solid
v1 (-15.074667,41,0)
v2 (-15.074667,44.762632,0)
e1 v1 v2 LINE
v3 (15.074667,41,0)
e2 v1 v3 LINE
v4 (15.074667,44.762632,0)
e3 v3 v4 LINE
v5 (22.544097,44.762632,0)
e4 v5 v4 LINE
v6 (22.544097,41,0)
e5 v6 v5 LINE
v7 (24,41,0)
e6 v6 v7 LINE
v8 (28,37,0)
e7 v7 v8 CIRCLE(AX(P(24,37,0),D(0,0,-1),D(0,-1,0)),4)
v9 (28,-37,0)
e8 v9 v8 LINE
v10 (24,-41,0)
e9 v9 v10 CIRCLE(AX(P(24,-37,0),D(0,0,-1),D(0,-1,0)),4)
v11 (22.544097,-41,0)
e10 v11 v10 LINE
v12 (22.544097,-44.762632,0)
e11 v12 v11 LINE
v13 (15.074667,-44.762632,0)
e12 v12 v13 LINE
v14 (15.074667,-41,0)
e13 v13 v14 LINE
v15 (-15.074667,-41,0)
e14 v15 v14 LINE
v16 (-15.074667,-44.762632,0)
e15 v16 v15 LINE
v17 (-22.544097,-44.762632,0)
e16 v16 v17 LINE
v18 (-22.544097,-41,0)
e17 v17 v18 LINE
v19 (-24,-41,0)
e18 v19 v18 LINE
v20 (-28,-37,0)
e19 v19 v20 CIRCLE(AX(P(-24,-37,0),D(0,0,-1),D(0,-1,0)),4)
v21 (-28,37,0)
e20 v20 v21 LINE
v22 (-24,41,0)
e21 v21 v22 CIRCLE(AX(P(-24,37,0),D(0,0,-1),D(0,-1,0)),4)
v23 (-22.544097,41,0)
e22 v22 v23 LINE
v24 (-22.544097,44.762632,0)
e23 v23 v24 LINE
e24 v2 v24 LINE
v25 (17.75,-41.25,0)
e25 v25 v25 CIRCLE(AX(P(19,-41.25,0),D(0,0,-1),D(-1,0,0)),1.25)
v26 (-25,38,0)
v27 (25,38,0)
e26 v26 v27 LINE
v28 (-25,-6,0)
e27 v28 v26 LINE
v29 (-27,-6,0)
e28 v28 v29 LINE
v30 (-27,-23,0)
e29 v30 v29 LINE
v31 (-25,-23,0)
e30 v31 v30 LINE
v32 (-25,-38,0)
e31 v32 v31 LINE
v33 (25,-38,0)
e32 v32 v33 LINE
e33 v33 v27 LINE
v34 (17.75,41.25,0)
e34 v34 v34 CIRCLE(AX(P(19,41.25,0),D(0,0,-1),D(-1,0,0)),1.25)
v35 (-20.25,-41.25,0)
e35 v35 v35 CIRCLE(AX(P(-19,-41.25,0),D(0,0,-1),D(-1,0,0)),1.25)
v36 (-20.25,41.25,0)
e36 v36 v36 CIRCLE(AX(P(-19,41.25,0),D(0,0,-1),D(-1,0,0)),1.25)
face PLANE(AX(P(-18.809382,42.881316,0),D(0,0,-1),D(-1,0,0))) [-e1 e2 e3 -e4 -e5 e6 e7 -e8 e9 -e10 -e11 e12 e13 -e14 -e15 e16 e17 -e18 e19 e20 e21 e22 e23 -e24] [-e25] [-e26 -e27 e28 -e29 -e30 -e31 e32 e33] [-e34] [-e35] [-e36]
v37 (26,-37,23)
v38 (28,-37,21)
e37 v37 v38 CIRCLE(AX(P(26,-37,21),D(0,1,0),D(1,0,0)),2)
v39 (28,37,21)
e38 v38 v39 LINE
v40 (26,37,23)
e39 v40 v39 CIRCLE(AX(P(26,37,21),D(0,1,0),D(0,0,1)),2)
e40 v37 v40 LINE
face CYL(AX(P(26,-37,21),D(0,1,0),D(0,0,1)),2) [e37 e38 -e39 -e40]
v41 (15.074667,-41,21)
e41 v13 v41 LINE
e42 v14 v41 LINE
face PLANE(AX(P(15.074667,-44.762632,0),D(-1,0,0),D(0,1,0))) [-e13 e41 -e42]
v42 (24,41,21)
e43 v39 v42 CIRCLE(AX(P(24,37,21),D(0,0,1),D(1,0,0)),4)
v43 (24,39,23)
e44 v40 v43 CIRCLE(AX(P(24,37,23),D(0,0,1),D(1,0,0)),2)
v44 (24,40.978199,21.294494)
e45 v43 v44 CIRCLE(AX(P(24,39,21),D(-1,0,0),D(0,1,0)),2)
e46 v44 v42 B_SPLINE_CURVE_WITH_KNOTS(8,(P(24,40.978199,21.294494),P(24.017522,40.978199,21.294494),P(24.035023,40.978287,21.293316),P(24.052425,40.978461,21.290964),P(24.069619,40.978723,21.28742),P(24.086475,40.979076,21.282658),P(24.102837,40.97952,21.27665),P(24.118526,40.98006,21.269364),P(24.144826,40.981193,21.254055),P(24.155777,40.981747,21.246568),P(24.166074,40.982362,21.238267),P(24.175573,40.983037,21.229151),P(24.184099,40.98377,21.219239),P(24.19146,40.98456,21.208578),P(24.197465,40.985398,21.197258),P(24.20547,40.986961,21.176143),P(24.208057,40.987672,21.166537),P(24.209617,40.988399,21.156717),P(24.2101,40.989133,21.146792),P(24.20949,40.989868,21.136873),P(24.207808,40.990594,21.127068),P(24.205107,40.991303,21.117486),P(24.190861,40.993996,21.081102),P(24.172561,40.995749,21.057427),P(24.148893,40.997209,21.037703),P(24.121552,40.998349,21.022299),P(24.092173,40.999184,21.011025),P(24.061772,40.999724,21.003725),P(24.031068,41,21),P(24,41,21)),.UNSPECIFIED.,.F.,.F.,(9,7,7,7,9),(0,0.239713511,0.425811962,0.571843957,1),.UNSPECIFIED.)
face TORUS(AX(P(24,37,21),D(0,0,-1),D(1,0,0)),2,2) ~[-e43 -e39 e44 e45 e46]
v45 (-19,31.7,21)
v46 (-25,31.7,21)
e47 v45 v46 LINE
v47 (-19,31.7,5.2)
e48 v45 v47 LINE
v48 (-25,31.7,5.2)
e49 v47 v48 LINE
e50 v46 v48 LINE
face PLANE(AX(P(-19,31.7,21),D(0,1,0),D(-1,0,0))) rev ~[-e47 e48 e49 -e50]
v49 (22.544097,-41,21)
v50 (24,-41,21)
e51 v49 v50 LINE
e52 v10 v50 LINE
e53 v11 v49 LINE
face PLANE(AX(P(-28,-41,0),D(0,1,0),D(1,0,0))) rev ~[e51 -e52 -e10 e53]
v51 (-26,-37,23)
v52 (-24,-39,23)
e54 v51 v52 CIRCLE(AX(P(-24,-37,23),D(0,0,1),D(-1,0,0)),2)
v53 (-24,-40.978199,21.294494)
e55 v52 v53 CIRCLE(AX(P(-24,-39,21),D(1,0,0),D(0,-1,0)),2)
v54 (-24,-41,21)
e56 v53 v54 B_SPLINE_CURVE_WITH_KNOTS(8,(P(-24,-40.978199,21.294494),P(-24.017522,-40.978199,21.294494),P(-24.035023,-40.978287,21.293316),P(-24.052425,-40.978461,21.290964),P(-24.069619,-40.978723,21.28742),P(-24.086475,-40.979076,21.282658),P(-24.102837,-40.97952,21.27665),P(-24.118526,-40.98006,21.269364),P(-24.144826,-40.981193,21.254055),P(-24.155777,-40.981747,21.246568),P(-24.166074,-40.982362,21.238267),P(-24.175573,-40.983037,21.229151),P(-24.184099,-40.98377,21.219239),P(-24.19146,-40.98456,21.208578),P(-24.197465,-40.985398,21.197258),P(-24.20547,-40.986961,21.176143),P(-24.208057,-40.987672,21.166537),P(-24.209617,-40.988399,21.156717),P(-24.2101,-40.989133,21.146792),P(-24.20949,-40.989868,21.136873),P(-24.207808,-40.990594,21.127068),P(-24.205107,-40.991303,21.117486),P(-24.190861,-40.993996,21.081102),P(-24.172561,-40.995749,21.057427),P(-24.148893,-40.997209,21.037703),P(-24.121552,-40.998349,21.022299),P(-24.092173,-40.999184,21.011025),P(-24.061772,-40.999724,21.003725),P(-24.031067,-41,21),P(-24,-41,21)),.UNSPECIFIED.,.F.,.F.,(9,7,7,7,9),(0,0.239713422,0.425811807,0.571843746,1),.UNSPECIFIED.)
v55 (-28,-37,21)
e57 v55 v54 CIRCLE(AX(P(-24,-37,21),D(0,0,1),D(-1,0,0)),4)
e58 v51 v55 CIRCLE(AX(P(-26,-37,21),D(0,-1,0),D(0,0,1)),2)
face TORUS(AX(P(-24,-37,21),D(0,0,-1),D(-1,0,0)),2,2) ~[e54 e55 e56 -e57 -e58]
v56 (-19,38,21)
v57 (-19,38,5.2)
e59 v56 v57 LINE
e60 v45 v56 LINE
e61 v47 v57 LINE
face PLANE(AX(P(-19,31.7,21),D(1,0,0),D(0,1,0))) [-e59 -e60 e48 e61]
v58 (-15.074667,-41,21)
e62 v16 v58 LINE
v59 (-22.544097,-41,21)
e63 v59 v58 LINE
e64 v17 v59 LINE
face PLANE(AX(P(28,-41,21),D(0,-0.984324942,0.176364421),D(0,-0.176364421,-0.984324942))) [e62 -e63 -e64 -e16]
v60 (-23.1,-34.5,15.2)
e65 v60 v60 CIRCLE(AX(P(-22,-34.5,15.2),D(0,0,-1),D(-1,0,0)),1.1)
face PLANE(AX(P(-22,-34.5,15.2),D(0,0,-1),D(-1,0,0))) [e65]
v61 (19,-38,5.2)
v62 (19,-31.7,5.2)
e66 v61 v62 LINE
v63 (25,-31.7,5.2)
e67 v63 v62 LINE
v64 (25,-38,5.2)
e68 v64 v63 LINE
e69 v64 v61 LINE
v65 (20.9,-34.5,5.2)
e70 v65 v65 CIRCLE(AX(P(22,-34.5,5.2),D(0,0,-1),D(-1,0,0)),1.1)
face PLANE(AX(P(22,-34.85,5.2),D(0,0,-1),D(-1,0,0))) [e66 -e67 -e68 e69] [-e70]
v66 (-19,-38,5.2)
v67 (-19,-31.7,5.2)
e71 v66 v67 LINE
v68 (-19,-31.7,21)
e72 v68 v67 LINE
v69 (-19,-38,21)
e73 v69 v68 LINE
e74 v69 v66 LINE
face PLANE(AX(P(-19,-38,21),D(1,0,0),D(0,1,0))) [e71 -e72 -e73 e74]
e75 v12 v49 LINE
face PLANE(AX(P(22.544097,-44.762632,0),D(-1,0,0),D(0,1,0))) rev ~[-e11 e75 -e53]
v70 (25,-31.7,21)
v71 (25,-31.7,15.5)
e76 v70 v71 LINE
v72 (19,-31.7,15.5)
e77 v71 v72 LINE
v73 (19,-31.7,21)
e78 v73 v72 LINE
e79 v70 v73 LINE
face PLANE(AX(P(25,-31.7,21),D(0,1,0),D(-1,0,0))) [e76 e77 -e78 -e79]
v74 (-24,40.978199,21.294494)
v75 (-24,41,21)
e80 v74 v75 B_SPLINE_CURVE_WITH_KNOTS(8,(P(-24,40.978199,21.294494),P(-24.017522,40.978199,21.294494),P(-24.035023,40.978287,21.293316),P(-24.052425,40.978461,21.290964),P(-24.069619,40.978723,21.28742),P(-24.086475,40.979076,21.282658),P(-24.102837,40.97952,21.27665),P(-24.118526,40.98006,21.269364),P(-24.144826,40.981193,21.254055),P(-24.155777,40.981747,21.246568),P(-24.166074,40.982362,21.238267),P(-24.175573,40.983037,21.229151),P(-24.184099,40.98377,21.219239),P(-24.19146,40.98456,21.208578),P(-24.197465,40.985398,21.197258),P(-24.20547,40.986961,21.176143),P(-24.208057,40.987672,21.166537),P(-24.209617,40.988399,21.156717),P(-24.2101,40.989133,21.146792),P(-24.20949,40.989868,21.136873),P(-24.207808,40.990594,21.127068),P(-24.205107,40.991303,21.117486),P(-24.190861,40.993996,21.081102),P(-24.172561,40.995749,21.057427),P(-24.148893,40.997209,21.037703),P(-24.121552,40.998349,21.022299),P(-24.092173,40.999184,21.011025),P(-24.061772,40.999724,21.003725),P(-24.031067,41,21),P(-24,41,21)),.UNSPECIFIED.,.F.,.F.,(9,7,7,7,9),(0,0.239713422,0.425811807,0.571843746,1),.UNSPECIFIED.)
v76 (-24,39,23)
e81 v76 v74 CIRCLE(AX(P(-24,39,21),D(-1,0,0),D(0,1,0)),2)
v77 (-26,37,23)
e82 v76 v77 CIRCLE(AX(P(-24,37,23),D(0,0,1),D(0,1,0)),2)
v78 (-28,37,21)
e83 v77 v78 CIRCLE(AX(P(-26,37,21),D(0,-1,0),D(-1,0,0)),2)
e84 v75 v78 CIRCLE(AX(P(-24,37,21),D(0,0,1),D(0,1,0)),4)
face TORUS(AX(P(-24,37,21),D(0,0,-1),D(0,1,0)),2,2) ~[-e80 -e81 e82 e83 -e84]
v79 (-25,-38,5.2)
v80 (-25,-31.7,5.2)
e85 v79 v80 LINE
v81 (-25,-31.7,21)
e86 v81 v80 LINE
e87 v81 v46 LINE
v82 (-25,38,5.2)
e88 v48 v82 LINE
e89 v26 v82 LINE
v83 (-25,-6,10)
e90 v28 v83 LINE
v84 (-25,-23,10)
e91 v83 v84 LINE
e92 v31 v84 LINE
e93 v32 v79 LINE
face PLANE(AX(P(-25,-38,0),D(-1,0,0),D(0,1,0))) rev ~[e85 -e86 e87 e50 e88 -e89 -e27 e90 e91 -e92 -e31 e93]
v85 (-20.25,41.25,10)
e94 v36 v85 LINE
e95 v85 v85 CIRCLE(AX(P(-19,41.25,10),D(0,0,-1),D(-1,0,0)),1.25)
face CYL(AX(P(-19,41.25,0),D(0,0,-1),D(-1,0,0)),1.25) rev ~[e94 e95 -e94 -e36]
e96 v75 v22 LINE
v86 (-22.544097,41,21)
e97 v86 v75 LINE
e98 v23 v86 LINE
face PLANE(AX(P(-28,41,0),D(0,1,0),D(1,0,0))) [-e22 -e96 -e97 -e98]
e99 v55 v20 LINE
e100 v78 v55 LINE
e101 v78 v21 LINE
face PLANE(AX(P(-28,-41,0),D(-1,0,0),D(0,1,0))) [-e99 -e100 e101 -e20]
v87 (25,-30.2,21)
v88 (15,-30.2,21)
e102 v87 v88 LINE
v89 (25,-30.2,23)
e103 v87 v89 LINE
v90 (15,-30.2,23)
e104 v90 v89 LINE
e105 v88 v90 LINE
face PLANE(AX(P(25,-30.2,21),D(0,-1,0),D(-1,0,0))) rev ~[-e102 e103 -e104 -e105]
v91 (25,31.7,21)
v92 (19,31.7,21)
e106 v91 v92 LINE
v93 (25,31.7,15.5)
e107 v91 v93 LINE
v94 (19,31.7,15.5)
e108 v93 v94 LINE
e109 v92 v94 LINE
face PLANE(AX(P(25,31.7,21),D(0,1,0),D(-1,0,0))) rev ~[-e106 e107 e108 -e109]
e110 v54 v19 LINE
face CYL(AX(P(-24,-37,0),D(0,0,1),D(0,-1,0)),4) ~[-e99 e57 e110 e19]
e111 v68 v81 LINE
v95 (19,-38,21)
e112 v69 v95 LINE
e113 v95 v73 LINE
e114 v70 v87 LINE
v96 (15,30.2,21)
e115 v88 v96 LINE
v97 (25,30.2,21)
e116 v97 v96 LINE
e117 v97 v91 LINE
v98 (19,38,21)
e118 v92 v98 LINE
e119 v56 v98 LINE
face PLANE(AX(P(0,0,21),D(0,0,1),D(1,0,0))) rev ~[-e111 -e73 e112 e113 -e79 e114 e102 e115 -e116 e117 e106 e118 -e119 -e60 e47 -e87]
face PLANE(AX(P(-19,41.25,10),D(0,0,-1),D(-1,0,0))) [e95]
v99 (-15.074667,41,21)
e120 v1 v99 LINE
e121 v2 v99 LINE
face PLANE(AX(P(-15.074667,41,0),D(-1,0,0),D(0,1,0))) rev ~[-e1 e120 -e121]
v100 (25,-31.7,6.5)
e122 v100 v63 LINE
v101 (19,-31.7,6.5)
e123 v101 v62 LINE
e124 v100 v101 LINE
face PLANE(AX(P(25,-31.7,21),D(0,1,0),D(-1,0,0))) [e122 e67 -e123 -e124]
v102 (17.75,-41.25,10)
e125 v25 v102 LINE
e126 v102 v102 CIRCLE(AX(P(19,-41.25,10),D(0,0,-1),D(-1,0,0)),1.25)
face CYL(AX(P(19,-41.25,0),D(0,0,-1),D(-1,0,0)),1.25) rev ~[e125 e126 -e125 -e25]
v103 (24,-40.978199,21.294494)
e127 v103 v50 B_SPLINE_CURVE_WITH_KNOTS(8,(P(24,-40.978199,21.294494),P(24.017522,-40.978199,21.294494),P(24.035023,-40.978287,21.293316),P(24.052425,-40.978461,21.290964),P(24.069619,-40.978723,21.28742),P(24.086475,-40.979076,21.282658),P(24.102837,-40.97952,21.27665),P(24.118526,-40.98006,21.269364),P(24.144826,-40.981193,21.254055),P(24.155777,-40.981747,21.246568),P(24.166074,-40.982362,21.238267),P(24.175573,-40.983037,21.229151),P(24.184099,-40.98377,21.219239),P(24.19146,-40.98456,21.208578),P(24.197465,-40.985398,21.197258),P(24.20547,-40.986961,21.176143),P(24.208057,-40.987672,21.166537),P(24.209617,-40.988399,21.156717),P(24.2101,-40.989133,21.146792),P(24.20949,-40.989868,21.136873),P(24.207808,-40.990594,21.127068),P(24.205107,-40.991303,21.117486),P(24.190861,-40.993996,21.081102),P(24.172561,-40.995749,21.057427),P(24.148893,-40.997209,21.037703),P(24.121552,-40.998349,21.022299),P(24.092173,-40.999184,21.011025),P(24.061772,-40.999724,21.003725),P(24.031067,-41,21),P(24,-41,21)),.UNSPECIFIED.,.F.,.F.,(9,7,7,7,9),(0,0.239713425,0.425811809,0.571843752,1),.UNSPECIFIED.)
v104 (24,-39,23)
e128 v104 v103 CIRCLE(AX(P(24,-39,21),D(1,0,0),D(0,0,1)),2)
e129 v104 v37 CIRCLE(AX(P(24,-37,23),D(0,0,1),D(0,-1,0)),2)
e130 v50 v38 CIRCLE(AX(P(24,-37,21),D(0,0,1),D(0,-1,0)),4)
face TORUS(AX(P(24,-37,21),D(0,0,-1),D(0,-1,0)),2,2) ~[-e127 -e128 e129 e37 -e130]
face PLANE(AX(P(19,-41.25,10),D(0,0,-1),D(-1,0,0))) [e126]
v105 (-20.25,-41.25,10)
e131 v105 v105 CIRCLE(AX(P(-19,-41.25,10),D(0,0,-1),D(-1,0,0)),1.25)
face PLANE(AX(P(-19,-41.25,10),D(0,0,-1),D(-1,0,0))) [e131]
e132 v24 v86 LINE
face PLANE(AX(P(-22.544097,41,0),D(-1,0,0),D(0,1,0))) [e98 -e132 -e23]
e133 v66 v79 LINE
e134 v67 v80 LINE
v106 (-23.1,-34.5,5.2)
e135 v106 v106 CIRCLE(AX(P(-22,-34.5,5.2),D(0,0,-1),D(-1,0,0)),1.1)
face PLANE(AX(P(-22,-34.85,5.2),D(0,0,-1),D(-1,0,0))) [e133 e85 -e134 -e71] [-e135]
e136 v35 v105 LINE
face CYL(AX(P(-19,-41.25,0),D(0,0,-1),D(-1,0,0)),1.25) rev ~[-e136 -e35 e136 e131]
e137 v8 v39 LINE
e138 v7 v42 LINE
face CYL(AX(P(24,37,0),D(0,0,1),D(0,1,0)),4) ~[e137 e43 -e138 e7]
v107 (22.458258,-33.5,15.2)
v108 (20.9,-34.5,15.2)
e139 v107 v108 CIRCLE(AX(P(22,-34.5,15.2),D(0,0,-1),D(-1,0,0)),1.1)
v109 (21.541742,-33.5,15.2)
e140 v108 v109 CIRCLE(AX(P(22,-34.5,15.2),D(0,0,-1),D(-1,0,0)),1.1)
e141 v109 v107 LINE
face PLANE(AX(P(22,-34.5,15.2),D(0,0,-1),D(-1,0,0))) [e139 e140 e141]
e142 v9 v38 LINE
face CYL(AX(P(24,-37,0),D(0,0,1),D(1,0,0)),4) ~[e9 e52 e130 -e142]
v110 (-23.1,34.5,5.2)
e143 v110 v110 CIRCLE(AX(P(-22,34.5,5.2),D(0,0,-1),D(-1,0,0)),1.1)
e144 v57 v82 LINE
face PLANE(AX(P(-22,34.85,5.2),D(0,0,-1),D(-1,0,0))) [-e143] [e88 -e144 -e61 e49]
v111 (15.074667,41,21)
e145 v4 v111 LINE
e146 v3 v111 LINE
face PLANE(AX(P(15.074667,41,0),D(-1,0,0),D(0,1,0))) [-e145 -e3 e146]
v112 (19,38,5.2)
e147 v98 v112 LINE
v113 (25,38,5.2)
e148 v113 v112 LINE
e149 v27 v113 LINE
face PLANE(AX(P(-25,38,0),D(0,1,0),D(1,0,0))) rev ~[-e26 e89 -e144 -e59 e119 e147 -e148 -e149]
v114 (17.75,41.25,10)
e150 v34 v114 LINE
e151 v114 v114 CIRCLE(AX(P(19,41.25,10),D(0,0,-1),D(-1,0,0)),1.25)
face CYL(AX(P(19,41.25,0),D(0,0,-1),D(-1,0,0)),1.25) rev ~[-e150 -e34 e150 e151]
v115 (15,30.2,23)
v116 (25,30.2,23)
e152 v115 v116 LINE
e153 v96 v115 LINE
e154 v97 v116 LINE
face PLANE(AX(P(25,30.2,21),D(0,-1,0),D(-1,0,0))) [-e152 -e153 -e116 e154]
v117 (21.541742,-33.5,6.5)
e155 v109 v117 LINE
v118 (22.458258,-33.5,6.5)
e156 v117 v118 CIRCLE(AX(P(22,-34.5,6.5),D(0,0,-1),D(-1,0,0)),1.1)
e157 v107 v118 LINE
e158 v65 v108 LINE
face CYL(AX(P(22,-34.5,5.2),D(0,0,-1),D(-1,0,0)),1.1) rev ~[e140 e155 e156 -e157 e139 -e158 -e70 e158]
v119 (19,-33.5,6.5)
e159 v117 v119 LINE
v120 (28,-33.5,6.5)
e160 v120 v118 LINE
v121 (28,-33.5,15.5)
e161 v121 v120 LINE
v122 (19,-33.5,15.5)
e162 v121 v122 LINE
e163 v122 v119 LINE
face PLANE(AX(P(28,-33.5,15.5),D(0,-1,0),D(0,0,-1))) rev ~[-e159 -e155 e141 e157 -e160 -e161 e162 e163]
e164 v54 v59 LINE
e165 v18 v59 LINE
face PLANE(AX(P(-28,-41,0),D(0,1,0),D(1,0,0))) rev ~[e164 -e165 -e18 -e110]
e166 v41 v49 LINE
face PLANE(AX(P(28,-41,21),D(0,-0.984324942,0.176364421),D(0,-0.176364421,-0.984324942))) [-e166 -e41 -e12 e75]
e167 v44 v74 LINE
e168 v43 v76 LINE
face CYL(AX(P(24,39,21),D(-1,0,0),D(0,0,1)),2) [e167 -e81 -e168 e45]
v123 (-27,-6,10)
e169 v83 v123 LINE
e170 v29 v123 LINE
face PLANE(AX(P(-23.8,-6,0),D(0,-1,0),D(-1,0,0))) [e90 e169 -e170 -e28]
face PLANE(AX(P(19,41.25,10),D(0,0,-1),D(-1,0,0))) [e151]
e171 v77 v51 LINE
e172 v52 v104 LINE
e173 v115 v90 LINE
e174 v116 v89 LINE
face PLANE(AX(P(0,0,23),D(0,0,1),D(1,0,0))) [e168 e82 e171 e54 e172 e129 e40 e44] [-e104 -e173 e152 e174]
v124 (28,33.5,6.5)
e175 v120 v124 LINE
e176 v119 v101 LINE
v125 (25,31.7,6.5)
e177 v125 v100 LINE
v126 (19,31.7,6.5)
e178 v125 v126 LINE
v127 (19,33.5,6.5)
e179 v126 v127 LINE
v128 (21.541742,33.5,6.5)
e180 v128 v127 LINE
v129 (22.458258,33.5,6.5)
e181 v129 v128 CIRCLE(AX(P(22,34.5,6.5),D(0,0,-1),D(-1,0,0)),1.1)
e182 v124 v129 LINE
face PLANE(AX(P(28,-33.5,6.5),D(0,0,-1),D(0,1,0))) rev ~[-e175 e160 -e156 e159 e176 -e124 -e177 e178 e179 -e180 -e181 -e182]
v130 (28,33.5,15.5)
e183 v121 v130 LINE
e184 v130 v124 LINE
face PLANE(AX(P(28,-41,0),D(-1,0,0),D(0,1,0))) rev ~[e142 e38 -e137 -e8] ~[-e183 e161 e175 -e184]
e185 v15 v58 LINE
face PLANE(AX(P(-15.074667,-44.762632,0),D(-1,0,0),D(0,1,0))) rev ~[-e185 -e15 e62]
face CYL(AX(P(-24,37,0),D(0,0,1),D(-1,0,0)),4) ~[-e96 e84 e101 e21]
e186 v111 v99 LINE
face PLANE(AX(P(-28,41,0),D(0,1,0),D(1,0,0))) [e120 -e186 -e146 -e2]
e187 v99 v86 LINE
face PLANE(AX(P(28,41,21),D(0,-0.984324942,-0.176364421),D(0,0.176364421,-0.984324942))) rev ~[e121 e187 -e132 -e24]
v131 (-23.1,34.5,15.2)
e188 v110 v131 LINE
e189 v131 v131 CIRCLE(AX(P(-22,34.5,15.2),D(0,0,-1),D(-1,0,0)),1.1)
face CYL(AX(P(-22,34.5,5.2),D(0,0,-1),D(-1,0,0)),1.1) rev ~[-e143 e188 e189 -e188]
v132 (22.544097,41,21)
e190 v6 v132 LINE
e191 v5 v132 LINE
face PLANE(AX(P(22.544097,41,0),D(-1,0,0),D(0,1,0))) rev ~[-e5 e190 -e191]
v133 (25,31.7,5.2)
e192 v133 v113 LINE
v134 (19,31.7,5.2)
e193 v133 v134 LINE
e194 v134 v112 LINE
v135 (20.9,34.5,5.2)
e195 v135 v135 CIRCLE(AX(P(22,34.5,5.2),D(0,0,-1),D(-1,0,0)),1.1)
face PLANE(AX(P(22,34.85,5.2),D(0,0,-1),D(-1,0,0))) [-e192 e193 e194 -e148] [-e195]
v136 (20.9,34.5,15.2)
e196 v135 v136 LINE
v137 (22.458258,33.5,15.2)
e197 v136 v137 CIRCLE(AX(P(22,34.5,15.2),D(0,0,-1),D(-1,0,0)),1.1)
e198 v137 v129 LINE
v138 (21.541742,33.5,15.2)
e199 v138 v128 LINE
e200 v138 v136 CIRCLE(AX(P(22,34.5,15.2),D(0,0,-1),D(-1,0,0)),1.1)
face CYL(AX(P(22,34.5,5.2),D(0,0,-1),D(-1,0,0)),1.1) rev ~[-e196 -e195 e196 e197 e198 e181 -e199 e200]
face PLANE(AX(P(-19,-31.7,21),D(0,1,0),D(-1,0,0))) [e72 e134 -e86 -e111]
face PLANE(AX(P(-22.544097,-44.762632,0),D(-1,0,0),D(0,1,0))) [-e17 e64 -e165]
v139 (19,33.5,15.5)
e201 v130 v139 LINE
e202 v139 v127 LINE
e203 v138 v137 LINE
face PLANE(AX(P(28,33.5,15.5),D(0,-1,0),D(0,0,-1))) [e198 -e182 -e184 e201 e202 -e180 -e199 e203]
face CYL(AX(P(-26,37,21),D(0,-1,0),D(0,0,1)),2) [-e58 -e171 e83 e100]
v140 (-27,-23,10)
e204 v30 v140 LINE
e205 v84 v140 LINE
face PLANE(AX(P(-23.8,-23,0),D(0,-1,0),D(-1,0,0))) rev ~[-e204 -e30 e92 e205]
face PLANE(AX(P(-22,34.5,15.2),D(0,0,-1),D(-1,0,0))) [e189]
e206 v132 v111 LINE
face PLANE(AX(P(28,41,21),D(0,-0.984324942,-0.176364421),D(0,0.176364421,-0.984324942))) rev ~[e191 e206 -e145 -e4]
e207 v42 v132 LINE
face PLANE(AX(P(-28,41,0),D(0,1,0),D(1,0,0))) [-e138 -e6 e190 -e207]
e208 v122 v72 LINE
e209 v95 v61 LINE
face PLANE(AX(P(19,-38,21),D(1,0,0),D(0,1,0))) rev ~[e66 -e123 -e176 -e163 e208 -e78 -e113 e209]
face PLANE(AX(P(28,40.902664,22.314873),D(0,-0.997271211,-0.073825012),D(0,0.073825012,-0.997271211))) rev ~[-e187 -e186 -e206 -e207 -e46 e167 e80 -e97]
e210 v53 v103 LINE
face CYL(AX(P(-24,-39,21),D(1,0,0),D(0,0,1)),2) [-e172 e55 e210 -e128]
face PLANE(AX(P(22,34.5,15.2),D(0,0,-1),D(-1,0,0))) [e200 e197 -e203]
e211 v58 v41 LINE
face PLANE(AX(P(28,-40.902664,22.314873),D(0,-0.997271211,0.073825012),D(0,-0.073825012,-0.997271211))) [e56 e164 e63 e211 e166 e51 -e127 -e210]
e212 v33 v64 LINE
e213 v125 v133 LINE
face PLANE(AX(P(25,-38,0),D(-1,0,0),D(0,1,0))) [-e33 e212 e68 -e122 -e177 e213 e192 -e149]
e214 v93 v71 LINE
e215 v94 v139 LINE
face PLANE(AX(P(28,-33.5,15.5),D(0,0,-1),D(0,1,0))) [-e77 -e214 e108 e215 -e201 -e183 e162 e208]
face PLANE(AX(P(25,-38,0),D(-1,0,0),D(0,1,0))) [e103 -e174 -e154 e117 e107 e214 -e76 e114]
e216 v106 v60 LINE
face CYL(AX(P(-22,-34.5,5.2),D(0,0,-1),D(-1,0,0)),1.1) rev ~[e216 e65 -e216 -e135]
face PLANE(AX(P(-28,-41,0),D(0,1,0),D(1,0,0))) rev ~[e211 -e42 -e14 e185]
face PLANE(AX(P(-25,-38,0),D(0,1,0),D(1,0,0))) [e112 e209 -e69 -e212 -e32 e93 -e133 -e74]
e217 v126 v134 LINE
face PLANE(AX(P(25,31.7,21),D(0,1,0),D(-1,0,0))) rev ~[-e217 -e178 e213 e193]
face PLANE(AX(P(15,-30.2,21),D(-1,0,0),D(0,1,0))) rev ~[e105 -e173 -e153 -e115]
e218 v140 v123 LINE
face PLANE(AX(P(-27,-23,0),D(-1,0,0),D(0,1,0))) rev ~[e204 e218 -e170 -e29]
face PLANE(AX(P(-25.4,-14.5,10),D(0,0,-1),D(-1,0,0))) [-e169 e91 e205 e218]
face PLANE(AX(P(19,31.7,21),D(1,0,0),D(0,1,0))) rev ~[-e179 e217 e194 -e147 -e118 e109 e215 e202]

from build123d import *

# Parameters (mm, degrees)
CROQUIS1_W                   = 56
CROQUIS1_H                   = 82
CROQUIS1_W_2                 = 50
CROQUIS1_H_2                 = 76
EXTRUIR_L_MINA1_DEPTH        = 22
REDONDEO1_R                  = 4
REDONDEO2_R                  = 4
REDONDEO3_R                  = 4
REDONDEO4_R                  = 4
SALIENTE_EXTRUIR1_DEPTH      = 1
SALIENTE_EXTRUIR1_DEPTH_BACK = 1
REDONDEO5_R                  = 2
CROQUIS3_W                   = 6
CROQUIS3_H                   = 6.3
SALIENTE_EXTRUIR2_DEPTH      = 15.8
CROQUIS4_R                   = 0.75
CORTAR_EXTRUIR1_DEPTH        = 10
CROQUIS5_W                   = 10
CROQUIS5_H                   = 60.4
CORTAR_EXTRUIR2_DEPTH        = 10
CROQUIS6_W                   = 9
CROQUIS6_H                   = 67
CORTAR_EXTRUIR4_DEPTH        = 10
CROQUIS7_W                   = 3.2
CROQUIS7_H                   = 17
CORTAR_EXTRUIR5_DEPTH        = 10
CROQUIS8_W                   = 7.469429576
CROQUIS8_H                   = 3.762632311
SALIENTE_EXTRUIR3_DEPTH      = 22
CORTAR_EXTRUIR6_DEPTH        = 85
CROQUIS10_R                  = 1.25
CORTAR_EXTRUIR7_DEPTH        = 10
CROQUIS11_R                  = 1.1
CORTAR_EXTRUIR8_DEPTH        = 10


with BuildPart() as part:
    # Croquis1 → Extruir-Lámina1 (new body)
    with BuildSketch(Plane.XY):
        Rectangle(CROQUIS1_W, CROQUIS1_H)
        Rectangle(CROQUIS1_W_2, CROQUIS1_H_2, mode=Mode.SUBTRACT)
    extrude(amount=EXTRUIR_L_MINA1_DEPTH)

    # Redondeo1
    redondeo1_edges = [part.edges().sort_by_distance(p)[0] for p in [
        (-28, 41, 11),
    ]]
    fillet(redondeo1_edges, radius=REDONDEO1_R)

    # Redondeo2
    redondeo2_edges = [part.edges().sort_by_distance(p)[0] for p in [
        (28, 41, 11),
    ]]
    fillet(redondeo2_edges, radius=REDONDEO2_R)

    # Redondeo3
    redondeo3_edges = [part.edges().sort_by_distance(p)[0] for p in [
        (28, -41, 11),
    ]]
    fillet(redondeo3_edges, radius=REDONDEO3_R)

    # Redondeo4
    redondeo4_edges = [part.edges().sort_by_distance(p)[0] for p in [
        (-28, -41, 11),
    ]]
    fillet(redondeo4_edges, radius=REDONDEO4_R)

    # Croquis2 → Saliente-Extruir1 (add, two sides: drawn at the far end of the back side and taken through both)
    with BuildSketch(Plane.XY.offset(22).offset(-SALIENTE_EXTRUIR1_DEPTH_BACK)):
        with BuildLine():
            Line((-28, 37), (-28, -37))
            ThreePointArc((-28, -37), (-26.828427125, -39.828427125), (-24, -41))
            Line((-24, -41), (24, -41))
            ThreePointArc((24, -41), (26.828427125, -39.828427125), (28, -37))
            Line((28, -37), (28, 37))
            ThreePointArc((28, 37), (26.828427125, 39.828427125), (24, 41))
            Line((24, 41), (-24, 41))
            ThreePointArc((-24, 41), (-26.828427125, 39.828427125), (-28, 37))
        make_face()
    extrude(amount=SALIENTE_EXTRUIR1_DEPTH + SALIENTE_EXTRUIR1_DEPTH_BACK)

    # Redondeo5
    redondeo5_edges = [part.edges().sort_by_distance(p)[0] for p in [
        (-26.828427125, 39.828427125, 23),
        (-28, 0, 23),
        (-26.828427125, -39.828427125, 23),
        (0, -41, 23),
        (26.828427125, -39.828427125, 23),
        (28, 0, 23),
        (26.828427125, 39.828427125, 23),
        (0, 41, 23),
    ]]
    fillet(redondeo5_edges, radius=REDONDEO5_R)

    # Croquis3 → Saliente-Extruir2 (add)
    with BuildSketch(Plane(origin=(0, 0, 21), x_dir=(-1, 0, 0), z_dir=(0, 0, -1))):
        with Locations((-22, 34.85)):
            Rectangle(CROQUIS3_W, CROQUIS3_H)
        with Locations((-22, -34.85)):
            Rectangle(CROQUIS3_W, CROQUIS3_H)
        with Locations((22, 34.85)):
            Rectangle(CROQUIS3_W, CROQUIS3_H)
        with Locations((22, -34.85)):
            Rectangle(CROQUIS3_W, CROQUIS3_H)
    extrude(amount=SALIENTE_EXTRUIR2_DEPTH)

    # Croquis4 → Cortar-Extruir1 (cut)
    with BuildSketch(Plane(origin=(0, 0, 5.2), x_dir=(-1, 0, 0), z_dir=(0, 0, -1))):
        with Locations((-22, 34.5)):
            Circle(CROQUIS4_R)
        with Locations((22, 34.5)):
            Circle(CROQUIS4_R)
        with Locations((22, -34.5)):
            Circle(CROQUIS4_R)
        with Locations((-22, -34.5)):
            Circle(CROQUIS4_R)
    extrude(amount=-CORTAR_EXTRUIR1_DEPTH, mode=Mode.SUBTRACT)

    # Croquis5 → Cortar-Extruir2 (cut)
    with BuildSketch(Plane(origin=(0, 0, 21), x_dir=(-1, 0, 0), z_dir=(0, 0, -1))):
        with Locations((-20, 0)):
            Rectangle(CROQUIS5_W, CROQUIS5_H)
    extrude(amount=-CORTAR_EXTRUIR2_DEPTH, mode=Mode.SUBTRACT)

    # Croquis6 → Cortar-Extruir4 (cut)
    with BuildSketch(Plane(origin=(28, 0, 0), x_dir=(0, 0, -1), z_dir=(1, 0, 0))):
        with Locations((-11, 0)):
            Rectangle(CROQUIS6_W, CROQUIS6_H)
    extrude(amount=-CORTAR_EXTRUIR4_DEPTH, mode=Mode.SUBTRACT)

    # Croquis7 → Cortar-Extruir5 (cut)
    with BuildSketch(Plane(origin=(0, 0, 0), x_dir=(-1, 0, 0), z_dir=(0, 0, -1))):
        with Locations((25.4, -14.5)):
            Rectangle(CROQUIS7_W, CROQUIS7_H)
    extrude(amount=-CORTAR_EXTRUIR5_DEPTH, mode=Mode.SUBTRACT)

    # Croquis8 → Saliente-Extruir3 (add)
    with BuildSketch(Plane(origin=(0, 0, 0), x_dir=(-1, 0, 0), z_dir=(0, 0, -1))):
        with Locations((18.80938175, 42.881316156)):
            Rectangle(CROQUIS8_W, CROQUIS8_H)
        with Locations((-18.80938175, 42.881316156)):
            Rectangle(CROQUIS8_W, CROQUIS8_H)
        with Locations((-18.80938175, -42.881316156)):
            Rectangle(CROQUIS8_W, CROQUIS8_H)
        with Locations((18.80938175, -42.881316156)):
            Rectangle(CROQUIS8_W, CROQUIS8_H)
    extrude(amount=-SALIENTE_EXTRUIR3_DEPTH)

    # Croquis9 → Cortar-Extruir6 (cut)
    with BuildSketch(Plane(origin=(28, 0, 0), x_dir=(0, 0, -1), z_dir=(1, 0, 0))):
        Polygon((-21, 41), (0, 44.762632311), (0.10305202, 48.489025058), (-25.204298305, 46.436230698), (-22.314872849, 40.902663886), align=None)
        Polygon((-22.314872849, -40.902663886), (-21, -41), (0, -44.762632311), (0.10305202, -48.489025058), (-25.204298305, -46.436230698), align=None)
    extrude(amount=-CORTAR_EXTRUIR6_DEPTH, mode=Mode.SUBTRACT)

    # Croquis10 → Cortar-Extruir7 (cut)
    with BuildSketch(Plane(origin=(0, 0, 0), x_dir=(-1, 0, 0), z_dir=(0, 0, -1))):
        with Locations((-19, 41.25)):
            Circle(CROQUIS10_R)
        with Locations((19, 41.25)):
            Circle(CROQUIS10_R)
        with Locations((-19, -41.25)):
            Circle(CROQUIS10_R)
        with Locations((19, -41.25)):
            Circle(CROQUIS10_R)
    extrude(amount=-CORTAR_EXTRUIR7_DEPTH, mode=Mode.SUBTRACT)

    # Croquis11 → Cortar-Extruir8 (cut)
    with BuildSketch(Plane(origin=(0, 0, 5.2), x_dir=(-1, 0, 0), z_dir=(0, 0, -1))):
        with Locations((-22, 34.5)):
            Circle(CROQUIS11_R)
        with Locations((22, 34.5)):
            Circle(CROQUIS11_R)
        with Locations((22, -34.5)):
            Circle(CROQUIS11_R)
        with Locations((-22, -34.5)):
            Circle(CROQUIS11_R)
    extrude(amount=-CORTAR_EXTRUIR8_DEPTH, mode=Mode.SUBTRACT)


solid = part.part
